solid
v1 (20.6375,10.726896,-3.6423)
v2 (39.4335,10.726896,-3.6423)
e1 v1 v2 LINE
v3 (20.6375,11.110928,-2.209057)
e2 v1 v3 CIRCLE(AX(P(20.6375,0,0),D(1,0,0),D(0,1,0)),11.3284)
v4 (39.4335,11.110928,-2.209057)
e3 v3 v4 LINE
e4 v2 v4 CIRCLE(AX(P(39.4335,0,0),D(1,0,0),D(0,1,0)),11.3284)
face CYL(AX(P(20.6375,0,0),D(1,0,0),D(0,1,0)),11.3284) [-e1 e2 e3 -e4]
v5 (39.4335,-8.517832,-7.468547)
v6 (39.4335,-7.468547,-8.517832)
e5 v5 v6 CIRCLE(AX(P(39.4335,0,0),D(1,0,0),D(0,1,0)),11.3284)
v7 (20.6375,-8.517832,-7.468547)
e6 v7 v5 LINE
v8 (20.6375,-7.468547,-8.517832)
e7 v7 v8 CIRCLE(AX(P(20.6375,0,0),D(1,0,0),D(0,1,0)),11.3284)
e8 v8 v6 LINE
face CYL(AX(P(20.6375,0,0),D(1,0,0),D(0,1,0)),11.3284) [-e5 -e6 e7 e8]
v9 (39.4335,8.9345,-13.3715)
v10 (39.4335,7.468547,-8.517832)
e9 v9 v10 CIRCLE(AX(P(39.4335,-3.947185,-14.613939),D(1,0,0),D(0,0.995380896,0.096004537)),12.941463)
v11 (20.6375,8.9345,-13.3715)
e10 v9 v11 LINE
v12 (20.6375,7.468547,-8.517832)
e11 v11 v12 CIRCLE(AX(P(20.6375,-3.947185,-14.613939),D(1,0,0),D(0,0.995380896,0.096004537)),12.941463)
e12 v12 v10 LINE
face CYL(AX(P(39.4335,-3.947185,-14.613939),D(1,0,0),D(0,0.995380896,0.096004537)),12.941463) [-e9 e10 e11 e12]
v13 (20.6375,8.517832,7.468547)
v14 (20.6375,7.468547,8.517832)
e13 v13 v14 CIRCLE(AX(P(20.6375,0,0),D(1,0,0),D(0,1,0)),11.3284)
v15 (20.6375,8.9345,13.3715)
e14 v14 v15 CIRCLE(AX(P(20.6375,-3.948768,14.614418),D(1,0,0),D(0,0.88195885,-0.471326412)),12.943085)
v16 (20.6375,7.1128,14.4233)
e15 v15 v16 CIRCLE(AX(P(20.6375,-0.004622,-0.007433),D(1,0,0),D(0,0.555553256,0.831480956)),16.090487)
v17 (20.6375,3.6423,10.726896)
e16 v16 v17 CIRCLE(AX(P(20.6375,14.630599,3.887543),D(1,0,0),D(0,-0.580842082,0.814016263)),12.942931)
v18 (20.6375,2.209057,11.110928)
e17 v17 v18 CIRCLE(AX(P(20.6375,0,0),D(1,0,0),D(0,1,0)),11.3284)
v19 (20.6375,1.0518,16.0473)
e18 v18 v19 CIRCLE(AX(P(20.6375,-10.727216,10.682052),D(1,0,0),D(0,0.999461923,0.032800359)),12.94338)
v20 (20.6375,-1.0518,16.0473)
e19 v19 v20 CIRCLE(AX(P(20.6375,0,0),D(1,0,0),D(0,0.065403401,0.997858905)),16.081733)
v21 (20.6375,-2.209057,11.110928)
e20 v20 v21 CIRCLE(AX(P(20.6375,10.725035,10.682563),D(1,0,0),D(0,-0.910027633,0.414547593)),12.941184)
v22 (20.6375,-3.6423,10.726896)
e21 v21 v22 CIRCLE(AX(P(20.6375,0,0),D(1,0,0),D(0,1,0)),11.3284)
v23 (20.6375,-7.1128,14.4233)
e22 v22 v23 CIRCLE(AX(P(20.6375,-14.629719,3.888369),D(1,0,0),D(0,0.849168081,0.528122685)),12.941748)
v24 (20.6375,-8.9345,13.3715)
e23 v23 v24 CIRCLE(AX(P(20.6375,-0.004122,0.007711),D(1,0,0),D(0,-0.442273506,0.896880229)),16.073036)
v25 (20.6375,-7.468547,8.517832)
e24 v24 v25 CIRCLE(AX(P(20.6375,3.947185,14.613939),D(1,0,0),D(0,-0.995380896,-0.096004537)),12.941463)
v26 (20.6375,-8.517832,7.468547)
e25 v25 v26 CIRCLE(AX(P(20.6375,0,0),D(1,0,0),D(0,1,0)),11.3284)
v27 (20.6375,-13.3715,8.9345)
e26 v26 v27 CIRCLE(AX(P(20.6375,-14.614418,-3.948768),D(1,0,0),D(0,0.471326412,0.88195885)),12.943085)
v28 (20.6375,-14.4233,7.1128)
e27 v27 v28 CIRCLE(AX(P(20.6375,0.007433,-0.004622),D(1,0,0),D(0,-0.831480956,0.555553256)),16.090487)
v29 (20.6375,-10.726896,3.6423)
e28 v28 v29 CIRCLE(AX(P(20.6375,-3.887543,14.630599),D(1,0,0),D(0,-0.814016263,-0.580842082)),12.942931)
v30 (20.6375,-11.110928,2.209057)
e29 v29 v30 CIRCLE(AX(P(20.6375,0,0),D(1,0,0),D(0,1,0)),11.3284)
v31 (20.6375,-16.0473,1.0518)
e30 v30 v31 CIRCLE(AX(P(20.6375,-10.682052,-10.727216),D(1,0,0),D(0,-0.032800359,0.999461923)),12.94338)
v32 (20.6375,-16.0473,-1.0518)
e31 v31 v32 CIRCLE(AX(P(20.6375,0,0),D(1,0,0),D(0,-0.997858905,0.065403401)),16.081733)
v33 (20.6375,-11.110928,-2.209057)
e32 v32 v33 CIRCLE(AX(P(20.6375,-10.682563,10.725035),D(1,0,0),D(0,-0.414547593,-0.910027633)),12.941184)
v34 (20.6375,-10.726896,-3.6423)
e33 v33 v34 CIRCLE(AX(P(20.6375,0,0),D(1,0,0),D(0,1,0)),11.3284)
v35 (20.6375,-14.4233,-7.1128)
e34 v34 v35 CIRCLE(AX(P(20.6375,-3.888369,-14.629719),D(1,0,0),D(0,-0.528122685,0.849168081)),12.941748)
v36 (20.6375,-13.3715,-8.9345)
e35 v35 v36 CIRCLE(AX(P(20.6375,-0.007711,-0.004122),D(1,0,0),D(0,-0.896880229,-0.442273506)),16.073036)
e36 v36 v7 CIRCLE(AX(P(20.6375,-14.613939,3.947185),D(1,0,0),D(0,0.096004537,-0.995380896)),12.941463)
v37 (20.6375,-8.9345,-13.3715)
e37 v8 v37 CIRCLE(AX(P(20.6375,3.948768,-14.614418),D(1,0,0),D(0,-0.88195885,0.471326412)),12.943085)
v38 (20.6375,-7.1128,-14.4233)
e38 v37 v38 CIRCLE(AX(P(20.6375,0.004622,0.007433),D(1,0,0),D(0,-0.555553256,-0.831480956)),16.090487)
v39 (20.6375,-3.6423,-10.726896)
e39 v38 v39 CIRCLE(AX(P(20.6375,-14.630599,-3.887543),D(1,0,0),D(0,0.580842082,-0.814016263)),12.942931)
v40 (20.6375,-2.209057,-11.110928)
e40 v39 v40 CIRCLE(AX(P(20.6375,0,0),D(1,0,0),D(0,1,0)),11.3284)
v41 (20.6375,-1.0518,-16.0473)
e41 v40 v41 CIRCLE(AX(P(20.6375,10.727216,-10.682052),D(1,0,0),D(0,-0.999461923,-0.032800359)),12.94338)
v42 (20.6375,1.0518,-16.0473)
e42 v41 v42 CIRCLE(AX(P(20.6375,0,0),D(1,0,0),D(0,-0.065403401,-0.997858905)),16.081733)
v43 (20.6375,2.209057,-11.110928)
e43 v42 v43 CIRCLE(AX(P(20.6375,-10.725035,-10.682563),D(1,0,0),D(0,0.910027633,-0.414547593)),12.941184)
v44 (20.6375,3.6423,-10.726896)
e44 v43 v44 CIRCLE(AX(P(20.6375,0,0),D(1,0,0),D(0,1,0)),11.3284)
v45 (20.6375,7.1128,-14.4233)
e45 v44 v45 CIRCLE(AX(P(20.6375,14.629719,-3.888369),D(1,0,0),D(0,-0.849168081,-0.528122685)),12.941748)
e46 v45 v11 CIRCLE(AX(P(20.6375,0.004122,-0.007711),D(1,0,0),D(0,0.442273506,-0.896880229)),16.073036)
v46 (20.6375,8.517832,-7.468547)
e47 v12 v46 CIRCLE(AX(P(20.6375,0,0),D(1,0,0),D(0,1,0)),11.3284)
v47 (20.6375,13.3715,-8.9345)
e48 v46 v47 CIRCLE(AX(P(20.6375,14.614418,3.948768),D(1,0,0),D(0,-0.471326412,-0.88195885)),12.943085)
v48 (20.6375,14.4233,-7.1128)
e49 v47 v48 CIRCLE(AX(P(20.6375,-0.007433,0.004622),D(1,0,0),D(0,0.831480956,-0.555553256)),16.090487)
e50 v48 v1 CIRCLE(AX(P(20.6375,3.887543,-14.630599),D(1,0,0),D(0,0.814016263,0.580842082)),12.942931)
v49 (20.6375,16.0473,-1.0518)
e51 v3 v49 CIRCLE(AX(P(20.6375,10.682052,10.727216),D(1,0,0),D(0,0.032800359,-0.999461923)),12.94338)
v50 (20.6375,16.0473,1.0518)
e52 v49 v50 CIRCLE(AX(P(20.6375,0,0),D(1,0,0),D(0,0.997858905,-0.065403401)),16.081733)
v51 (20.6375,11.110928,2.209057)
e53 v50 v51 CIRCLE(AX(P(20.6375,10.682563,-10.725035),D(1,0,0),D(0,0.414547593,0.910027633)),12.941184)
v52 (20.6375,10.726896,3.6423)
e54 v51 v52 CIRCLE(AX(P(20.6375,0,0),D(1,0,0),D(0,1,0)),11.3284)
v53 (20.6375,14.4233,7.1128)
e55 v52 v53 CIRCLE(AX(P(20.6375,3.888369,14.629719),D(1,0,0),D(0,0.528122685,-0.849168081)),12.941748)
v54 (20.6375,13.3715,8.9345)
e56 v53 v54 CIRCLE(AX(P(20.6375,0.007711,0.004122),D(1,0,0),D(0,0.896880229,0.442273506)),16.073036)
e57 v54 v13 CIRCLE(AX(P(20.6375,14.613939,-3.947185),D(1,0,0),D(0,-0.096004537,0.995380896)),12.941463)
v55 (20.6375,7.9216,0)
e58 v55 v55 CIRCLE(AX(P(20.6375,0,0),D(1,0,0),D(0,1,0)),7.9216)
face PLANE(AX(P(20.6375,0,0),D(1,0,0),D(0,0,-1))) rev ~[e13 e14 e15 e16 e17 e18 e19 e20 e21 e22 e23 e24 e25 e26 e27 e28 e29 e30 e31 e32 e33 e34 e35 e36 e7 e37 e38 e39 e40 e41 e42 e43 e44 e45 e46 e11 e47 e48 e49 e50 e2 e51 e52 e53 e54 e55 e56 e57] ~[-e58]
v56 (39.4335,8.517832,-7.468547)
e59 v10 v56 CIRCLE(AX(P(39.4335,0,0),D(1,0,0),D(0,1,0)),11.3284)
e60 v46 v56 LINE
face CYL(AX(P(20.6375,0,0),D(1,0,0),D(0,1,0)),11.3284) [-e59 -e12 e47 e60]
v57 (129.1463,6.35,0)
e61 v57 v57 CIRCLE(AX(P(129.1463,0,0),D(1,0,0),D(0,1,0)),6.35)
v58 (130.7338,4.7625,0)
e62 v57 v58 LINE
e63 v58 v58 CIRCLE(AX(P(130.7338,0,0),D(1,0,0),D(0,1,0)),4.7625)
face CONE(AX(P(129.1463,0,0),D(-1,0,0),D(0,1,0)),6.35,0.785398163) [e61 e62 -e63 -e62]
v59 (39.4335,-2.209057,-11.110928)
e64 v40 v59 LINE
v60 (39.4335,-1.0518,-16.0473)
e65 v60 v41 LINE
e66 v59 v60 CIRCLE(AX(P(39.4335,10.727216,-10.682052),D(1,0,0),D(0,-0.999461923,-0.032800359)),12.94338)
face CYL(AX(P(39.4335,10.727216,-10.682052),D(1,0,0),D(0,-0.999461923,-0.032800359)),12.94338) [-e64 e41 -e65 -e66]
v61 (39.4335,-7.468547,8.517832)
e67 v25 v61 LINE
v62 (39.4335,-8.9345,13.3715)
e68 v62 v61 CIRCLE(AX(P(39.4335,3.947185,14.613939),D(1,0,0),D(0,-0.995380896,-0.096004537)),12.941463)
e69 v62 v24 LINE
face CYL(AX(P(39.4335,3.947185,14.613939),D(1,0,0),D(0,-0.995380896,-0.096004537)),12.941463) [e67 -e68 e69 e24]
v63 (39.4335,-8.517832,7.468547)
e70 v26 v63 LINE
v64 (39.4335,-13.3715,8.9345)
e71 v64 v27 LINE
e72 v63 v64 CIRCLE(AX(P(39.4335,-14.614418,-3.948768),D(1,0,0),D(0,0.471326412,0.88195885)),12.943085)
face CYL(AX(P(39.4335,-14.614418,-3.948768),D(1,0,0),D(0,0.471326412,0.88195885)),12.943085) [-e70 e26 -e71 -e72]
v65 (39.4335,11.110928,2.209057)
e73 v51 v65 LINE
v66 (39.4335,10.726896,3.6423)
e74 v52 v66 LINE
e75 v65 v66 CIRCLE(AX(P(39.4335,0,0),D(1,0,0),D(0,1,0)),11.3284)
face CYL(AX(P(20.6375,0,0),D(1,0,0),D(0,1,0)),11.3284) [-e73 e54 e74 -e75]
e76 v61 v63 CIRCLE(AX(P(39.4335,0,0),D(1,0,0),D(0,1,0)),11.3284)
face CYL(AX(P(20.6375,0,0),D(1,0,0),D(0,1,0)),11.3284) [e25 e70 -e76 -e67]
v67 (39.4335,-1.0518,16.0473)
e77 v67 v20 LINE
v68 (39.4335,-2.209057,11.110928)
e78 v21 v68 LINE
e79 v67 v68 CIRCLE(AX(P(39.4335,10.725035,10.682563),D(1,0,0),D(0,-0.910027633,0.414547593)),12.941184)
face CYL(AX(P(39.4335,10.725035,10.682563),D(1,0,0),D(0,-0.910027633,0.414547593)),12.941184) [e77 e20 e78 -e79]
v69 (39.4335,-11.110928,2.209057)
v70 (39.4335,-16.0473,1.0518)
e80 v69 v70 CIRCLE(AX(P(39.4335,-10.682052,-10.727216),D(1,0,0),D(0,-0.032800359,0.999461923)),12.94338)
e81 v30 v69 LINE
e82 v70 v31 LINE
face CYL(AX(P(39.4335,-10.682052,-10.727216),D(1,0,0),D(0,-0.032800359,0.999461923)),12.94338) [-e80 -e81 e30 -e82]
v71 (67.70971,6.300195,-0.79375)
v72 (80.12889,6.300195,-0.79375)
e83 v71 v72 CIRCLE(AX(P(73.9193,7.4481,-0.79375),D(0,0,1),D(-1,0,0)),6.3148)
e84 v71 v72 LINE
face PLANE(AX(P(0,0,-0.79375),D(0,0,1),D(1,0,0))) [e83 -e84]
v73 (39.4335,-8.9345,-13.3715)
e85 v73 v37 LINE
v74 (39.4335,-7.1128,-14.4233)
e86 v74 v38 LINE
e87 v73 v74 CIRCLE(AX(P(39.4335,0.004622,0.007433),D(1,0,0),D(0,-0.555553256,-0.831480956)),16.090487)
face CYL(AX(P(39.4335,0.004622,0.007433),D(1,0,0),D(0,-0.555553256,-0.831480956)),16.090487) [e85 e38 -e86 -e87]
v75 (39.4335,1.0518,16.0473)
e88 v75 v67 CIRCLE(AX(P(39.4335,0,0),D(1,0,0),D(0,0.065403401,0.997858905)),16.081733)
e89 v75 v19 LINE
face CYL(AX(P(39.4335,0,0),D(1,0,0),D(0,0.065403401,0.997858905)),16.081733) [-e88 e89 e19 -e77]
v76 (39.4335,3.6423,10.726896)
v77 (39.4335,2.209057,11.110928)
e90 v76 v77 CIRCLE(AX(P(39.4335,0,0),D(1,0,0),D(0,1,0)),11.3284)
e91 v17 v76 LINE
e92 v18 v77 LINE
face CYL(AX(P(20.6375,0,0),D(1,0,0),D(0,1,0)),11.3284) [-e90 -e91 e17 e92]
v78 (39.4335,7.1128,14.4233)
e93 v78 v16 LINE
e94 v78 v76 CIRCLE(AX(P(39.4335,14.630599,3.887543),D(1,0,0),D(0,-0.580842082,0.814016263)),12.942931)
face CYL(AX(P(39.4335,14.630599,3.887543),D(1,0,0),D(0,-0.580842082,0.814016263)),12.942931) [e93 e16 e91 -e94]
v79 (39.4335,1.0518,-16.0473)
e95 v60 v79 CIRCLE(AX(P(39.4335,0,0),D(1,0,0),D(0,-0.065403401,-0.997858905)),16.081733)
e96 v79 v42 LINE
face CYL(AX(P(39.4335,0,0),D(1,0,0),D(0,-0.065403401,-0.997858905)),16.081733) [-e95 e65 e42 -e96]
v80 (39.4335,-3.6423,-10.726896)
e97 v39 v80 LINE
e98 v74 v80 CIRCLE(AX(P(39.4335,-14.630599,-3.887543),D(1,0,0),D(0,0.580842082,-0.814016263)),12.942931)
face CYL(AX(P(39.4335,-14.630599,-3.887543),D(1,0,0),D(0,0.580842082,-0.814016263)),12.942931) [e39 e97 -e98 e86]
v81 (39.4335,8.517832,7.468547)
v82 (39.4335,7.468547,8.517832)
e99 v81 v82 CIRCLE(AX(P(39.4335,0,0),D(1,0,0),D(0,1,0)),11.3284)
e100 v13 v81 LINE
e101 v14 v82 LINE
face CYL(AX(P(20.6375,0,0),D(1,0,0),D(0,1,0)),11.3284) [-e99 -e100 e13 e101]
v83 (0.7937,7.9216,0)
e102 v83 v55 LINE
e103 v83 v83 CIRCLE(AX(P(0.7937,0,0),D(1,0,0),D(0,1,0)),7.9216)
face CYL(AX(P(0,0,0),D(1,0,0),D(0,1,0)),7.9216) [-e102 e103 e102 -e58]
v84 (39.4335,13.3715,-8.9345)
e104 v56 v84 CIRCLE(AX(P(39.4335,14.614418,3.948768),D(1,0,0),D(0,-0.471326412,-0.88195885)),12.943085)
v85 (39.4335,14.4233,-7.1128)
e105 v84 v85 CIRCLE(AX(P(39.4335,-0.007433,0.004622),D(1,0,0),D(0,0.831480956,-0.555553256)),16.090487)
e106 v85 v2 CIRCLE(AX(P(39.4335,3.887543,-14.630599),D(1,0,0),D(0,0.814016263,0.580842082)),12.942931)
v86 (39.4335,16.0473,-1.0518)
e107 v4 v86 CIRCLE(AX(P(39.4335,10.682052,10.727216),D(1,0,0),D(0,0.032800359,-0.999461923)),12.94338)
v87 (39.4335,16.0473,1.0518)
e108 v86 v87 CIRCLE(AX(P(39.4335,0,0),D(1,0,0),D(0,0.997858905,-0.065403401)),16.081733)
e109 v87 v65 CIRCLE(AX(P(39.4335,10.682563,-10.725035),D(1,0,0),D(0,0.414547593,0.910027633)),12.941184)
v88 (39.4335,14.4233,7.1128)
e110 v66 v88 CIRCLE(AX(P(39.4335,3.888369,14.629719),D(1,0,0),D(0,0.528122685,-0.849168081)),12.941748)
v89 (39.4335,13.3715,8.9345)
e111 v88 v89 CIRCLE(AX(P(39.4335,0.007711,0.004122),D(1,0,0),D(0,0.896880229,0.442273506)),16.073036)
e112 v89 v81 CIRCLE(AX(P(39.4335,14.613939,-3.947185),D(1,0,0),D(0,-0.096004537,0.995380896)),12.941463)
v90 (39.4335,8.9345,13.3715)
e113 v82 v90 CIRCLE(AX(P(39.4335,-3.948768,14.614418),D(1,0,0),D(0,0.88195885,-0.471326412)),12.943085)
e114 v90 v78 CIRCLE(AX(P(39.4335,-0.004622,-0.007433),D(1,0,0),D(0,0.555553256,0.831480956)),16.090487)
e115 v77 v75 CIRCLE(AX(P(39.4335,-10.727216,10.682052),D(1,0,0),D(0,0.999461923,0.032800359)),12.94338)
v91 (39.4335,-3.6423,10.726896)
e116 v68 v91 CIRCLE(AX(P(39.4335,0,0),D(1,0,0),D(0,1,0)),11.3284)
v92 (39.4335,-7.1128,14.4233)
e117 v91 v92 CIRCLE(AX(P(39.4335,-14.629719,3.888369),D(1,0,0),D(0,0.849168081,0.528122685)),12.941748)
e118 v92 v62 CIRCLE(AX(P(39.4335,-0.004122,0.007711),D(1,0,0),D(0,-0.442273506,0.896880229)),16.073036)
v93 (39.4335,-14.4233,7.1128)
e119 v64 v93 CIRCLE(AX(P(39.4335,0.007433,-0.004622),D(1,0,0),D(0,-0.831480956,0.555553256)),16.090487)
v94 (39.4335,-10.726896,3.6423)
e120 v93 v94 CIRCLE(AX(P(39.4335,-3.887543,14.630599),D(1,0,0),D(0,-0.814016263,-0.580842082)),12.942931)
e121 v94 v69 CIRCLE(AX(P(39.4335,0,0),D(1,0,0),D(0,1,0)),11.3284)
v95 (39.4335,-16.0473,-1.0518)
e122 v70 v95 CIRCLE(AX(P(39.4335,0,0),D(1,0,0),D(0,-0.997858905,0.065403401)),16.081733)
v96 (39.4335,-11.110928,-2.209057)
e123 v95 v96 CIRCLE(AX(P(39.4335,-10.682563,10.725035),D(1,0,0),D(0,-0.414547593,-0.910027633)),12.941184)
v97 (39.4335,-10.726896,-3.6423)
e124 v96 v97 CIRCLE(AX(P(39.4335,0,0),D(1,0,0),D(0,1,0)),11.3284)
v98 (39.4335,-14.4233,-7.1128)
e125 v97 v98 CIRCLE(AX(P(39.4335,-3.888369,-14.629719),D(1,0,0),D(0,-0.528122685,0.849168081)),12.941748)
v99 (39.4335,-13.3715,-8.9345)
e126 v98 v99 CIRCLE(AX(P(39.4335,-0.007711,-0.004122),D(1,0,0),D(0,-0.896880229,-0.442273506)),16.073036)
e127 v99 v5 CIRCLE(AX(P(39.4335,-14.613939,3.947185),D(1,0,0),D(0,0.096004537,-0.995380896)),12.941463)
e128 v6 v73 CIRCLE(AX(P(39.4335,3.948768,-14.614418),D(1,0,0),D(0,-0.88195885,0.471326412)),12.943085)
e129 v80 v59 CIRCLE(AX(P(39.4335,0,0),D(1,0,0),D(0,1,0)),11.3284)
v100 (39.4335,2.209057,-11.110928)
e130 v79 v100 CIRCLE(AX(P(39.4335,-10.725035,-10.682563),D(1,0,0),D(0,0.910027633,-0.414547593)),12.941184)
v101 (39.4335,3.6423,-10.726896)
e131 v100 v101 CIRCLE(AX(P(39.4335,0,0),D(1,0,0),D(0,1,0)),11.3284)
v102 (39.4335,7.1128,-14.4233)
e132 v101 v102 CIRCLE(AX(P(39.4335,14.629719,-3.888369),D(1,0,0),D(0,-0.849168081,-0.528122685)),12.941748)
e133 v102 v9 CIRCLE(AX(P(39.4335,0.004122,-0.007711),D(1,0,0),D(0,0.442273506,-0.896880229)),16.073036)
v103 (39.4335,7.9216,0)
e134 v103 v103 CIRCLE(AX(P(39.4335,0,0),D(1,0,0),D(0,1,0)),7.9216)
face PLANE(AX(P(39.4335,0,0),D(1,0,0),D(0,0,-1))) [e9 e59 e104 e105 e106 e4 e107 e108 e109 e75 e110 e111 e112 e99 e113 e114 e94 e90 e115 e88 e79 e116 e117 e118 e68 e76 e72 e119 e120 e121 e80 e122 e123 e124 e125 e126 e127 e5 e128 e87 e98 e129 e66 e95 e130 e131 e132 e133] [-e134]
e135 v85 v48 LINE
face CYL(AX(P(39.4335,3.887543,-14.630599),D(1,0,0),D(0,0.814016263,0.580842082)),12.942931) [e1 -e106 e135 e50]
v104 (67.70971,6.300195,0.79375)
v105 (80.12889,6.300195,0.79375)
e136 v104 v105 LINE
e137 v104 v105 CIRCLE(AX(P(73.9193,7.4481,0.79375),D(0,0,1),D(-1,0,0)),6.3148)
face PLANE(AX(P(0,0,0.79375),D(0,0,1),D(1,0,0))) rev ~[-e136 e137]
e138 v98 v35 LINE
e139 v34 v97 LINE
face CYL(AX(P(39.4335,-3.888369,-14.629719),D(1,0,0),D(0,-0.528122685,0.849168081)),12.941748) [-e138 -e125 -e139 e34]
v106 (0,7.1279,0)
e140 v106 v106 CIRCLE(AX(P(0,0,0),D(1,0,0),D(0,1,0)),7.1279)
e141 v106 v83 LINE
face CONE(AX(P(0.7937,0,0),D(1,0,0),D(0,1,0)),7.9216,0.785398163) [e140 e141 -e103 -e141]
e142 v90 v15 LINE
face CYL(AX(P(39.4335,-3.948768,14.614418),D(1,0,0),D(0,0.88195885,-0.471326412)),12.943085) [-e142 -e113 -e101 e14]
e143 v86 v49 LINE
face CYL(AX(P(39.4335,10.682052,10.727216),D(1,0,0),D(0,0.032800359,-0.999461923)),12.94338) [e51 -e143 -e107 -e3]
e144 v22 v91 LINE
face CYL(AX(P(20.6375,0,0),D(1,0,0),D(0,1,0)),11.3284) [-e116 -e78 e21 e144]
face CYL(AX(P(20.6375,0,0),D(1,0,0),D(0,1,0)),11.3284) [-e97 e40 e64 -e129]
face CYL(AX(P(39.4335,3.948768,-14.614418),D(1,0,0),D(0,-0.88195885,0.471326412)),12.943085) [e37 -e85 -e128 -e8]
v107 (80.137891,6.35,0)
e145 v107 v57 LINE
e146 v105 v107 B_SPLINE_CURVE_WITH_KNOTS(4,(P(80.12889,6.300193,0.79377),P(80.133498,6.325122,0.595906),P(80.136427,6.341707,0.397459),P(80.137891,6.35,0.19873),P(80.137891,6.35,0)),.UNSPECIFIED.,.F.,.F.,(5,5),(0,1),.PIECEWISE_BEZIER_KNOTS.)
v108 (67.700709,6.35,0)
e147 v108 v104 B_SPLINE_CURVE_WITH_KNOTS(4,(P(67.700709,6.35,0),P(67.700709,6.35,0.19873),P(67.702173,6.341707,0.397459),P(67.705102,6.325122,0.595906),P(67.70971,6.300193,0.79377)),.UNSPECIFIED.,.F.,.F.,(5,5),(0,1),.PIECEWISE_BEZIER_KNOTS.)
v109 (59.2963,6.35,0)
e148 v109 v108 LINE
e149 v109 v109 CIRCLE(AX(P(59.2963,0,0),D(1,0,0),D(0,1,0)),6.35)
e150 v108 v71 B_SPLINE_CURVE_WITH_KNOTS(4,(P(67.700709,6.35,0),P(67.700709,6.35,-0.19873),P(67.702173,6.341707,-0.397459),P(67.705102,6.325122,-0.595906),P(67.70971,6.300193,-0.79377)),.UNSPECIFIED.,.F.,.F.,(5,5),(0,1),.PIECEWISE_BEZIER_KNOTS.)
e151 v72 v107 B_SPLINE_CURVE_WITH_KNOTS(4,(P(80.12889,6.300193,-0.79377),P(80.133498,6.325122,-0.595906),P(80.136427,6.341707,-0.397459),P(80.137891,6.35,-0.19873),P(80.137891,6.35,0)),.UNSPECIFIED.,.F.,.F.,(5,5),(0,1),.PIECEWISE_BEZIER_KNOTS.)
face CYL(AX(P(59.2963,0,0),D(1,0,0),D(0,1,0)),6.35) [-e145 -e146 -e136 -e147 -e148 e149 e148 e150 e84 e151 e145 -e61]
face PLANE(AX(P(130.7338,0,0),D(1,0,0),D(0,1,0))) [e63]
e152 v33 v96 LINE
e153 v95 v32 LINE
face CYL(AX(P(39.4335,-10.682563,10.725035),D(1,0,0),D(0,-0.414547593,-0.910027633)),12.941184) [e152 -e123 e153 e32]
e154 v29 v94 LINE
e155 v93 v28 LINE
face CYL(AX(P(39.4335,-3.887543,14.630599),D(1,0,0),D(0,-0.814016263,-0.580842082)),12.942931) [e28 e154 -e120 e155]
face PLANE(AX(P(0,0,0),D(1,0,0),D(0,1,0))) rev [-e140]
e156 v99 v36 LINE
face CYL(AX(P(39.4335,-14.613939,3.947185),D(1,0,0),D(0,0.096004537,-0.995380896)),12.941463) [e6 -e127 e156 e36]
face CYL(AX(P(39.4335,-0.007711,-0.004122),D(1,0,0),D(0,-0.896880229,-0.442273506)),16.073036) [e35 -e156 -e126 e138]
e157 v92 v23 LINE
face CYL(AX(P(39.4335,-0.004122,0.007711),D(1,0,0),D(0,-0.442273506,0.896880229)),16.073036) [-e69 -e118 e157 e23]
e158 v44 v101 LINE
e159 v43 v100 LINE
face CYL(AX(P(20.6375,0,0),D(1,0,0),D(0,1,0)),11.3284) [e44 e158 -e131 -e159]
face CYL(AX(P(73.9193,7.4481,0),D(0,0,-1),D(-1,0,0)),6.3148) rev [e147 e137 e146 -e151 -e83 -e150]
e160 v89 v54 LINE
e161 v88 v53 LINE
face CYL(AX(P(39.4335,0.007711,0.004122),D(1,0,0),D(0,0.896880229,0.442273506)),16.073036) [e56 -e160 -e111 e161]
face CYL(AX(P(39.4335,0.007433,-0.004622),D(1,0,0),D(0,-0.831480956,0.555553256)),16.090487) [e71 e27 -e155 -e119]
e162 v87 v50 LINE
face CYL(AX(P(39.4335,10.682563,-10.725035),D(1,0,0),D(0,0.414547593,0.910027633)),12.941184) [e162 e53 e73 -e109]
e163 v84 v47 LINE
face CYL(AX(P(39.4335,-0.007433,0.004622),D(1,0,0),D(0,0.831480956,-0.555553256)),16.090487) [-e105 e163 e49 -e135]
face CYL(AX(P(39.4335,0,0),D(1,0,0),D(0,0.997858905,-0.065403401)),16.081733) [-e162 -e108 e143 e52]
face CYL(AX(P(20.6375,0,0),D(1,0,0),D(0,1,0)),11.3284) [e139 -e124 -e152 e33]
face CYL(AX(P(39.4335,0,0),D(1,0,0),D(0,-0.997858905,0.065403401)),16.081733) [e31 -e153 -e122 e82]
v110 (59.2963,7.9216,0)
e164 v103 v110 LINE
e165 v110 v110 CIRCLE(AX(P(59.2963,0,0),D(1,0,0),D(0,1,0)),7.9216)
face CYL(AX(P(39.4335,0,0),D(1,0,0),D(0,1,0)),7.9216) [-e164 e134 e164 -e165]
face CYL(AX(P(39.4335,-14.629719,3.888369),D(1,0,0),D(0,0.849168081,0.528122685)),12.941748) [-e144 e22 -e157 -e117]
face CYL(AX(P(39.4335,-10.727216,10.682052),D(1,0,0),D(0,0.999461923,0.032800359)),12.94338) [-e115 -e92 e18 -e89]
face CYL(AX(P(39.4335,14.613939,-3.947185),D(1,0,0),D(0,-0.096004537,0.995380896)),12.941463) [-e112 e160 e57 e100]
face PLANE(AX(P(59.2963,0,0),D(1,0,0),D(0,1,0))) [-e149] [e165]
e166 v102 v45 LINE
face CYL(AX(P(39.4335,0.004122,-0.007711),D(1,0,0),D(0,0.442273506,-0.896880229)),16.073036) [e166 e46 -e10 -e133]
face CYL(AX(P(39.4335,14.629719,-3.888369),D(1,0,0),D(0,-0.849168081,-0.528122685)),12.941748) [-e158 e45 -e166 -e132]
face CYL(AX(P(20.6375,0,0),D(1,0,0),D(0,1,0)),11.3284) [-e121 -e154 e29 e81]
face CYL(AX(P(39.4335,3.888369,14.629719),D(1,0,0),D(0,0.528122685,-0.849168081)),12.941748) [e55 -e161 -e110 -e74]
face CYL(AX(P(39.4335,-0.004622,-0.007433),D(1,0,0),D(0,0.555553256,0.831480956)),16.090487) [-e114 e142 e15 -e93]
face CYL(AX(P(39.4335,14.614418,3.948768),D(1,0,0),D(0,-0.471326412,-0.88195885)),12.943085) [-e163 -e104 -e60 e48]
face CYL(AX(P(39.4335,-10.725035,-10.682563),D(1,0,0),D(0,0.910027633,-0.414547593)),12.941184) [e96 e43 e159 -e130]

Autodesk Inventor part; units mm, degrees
ref_plane "Start Plane" through (0, 0, 0) normal (1, 0, 0) x (0, 1, 0)
ref_plane "XZ Plane" through (0, 0, 0) normal (0, 1, 0) x (-1, 0, 0)
ref_plane "XY Plane" through (0, 0, 0) normal (0, 0, 1) x (1, 0, 0)
sketch "Main Sketch" plane through (0, 0, 0) normal (0, 0, 1) x (1, 0, 0)
  line L0 (0, 0) -> (130.7338, 0)
  line L1 (0, 0) -> (0, 7.9216)
  line L2 (0, 7.9216) -> (20.6375, 7.9216)
  line L3 (20.6375, 7.9216) -> (20.6375, 11.3284)
  line L4 (39.4335, 11.3284) -> (39.4335, 7.9216)
  line L5 (20.6375, 11.3284) -> (39.4335, 11.3284)
  line L6 (59.2963, 7.9216) -> (59.2963, 6.35)
  line L7 (39.4335, 7.9216) -> (59.2963, 7.9216)
  line L8 (130.7338, 6.35) -> (130.7338, 0)
  line L9 (59.2963, 6.35) -> (130.7338, 6.35)
  dimension "d3" = 15.8432
  dimension "d4" = 22.6568
  dimension "d5" = 15.8432
  dimension "d6" = 12.7
revolve "Revolution1" add sketch "Main Sketch" angle 360 about axis through (0, 0, 0) along (1, 0, 0)
chamfer "Chamfer1" distance 0.7937 angle 45 1 edges at (0, -7.9216, 0) measured on face at (13.7583, 7.8959, -0.6374)
chamfer "Chamfer2" distance 1.5875 angle 45 1 edges at (130.7338, -6.35, 0) measured on face at (106.9213, 6.2678, -1.0186)
thread "Thread1" size "1/2-13 UNC" class "2A" standard "ANSI Unified Screw Threads" length 25.4
sketch "Sketch3" plane through (0, 0, 0) normal (0, 0, 1) x (1, 0, 0)
  arc A0 (67.6045, 7.4481) -> (80.2341, 7.4481) centre (73.9193, 7.4481) ccw
  line L0 (67.6045, 7.4481) -> (80.2341, 7.4481)
  line L1 (59.2963, -7.9216) -> (59.2963, 7.9216) construction
  point P0 (0, 0)
  dimension "d16" = 14.623
  dimension "d17" = 6.3148
extrude "Extrusion1" cut sketch "Sketch3" along normal mid plane 1.5875
sketch "Sketch4" plane through (39.4335, 0, 0) normal (1, 0, 0) x (0, 0, -1)
  arc A0 (-8.9345, 13.3715) -> (-7.4665, 8.514) centre (3.948, 14.6141) ccw
  arc A1 (-7.4665, 8.514) -> (-8.514, 7.4665) centre (0, 0) ccw
  arc A2 (-8.514, 7.4665) -> (-13.3715, 8.9345) centre (-14.6141, -3.948) ccw
  arc A3 (-13.3715, 8.9345) -> (-14.4233, 7.1128) centre (0, 0) ccw
  arc A4 (-14.4233, 7.1128) -> (-10.7232, 3.64) centre (-3.888, 14.6302) ccw
  arc A5 (-10.7232, 3.64) -> (-11.1066, 2.2092) centre (0, 0) ccw
  arc A6 (-11.1066, 2.2092) -> (-16.0473, 1.0518) centre (-10.6822, -10.7261) ccw
  arc A7 (-16.0473, 1.0518) -> (-16.0473, -1.0518) centre (0, 0) ccw
  arc A8 (-16.0473, -1.0518) -> (-11.1066, -2.2092) centre (-10.6822, 10.7261) ccw
  arc A9 (-11.1066, -2.2092) -> (-10.7232, -3.64) centre (0, 0) ccw
  arc A10 (-10.7232, -3.64) -> (-14.4233, -7.1128) centre (-3.888, -14.6302) ccw
  arc A11 (-14.4233, -7.1128) -> (-13.3715, -8.9345) centre (0, 0) ccw
  arc A12 (-13.3715, -8.9345) -> (-8.514, -7.4665) centre (-14.6141, 3.948) ccw
  arc A13 (-8.514, -7.4665) -> (-7.4665, -8.514) centre (0, 0) ccw
  arc A14 (-7.4665, -8.514) -> (-8.9345, -13.3715) centre (3.948, -14.6141) ccw
  arc A15 (-8.9345, -13.3715) -> (-7.1128, -14.4233) centre (0, 0) ccw
  arc A16 (-7.1128, -14.4233) -> (-3.64, -10.7232) centre (-14.6302, -3.888) ccw
  arc A17 (-3.64, -10.7232) -> (-2.2092, -11.1066) centre (0, 0) ccw
  arc A18 (-2.2092, -11.1066) -> (-1.0518, -16.0473) centre (10.7261, -10.6822) ccw
  arc A19 (-1.0518, -16.0473) -> (1.0518, -16.0473) centre (0, 0) ccw
  arc A20 (1.0518, -16.0473) -> (2.2092, -11.1066) centre (-10.7261, -10.6822) ccw
  arc A21 (2.2092, -11.1066) -> (3.64, -10.7232) centre (0, 0) ccw
  arc A22 (3.64, -10.7232) -> (7.1128, -14.4233) centre (14.6302, -3.888) ccw
  arc A23 (7.1128, -14.4233) -> (8.9345, -13.3715) centre (0, 0) ccw
  arc A24 (8.9345, -13.3715) -> (7.4665, -8.514) centre (-3.948, -14.6141) ccw
  arc A25 (7.4665, -8.514) -> (8.514, -7.4665) centre (0, 0) ccw
  arc A26 (8.514, -7.4665) -> (13.3715, -8.9345) centre (14.6141, 3.948) ccw
  arc A27 (13.3715, -8.9345) -> (14.4233, -7.1128) centre (0, 0) ccw
  arc A28 (14.4233, -7.1128) -> (10.7232, -3.64) centre (3.888, -14.6302) ccw
  arc A29 (10.7232, -3.64) -> (11.1066, -2.2092) centre (0, 0) ccw
  arc A30 (11.1066, -2.2092) -> (16.0473, -1.0518) centre (10.6822, 10.7261) ccw
  arc A31 (16.0473, -1.0518) -> (16.0473, 1.0518) centre (0, 0) ccw
  arc A32 (16.0473, 1.0518) -> (11.1066, 2.2092) centre (10.6822, -10.7261) ccw
  arc A33 (11.1066, 2.2092) -> (10.7232, 3.64) centre (0, 0) ccw
  arc A34 (10.7232, 3.64) -> (14.4233, 7.1128) centre (3.888, 14.6302) ccw
  arc A35 (14.4233, 7.1128) -> (13.3715, 8.9345) centre (0, 0) ccw
  arc A36 (13.3715, 8.9345) -> (8.514, 7.4665) centre (14.6141, -3.948) ccw
  arc A37 (8.514, 7.4665) -> (7.4665, 8.514) centre (0, 0) ccw
  arc A38 (7.4665, 8.514) -> (8.9345, 13.3715) centre (-3.948, 14.6141) ccw
  arc A39 (8.9345, 13.3715) -> (7.1128, 14.4233) centre (0, 0) ccw
  arc A40 (7.1128, 14.4233) -> (3.64, 10.7232) centre (14.6302, 3.888) ccw
  arc A41 (3.64, 10.7232) -> (2.2092, 11.1066) centre (0, 0) ccw
  arc A42 (2.2092, 11.1066) -> (1.0518, 16.0473) centre (-10.7261, 10.6822) ccw
  arc A43 (1.0518, 16.0473) -> (-1.0518, 16.0473) centre (0, 0) ccw
  arc A44 (-1.0518, 16.0473) -> (-2.2092, 11.1066) centre (10.7261, 10.6822) ccw
  arc A45 (-2.2092, 11.1066) -> (-3.64, 10.7232) centre (0, 0) ccw
  arc A46 (-3.64, 10.7232) -> (-7.1128, 14.4233) centre (-14.6302, 3.888) ccw
  arc A47 (-7.1128, 14.4233) -> (-8.9345, 13.3715) centre (0, 0) ccw
extrude "Extrusion2" add sketch "Sketch4" against normal up to surface (18.796 mm away)
properties part number "Shaft" material "Aluminum 6061"
